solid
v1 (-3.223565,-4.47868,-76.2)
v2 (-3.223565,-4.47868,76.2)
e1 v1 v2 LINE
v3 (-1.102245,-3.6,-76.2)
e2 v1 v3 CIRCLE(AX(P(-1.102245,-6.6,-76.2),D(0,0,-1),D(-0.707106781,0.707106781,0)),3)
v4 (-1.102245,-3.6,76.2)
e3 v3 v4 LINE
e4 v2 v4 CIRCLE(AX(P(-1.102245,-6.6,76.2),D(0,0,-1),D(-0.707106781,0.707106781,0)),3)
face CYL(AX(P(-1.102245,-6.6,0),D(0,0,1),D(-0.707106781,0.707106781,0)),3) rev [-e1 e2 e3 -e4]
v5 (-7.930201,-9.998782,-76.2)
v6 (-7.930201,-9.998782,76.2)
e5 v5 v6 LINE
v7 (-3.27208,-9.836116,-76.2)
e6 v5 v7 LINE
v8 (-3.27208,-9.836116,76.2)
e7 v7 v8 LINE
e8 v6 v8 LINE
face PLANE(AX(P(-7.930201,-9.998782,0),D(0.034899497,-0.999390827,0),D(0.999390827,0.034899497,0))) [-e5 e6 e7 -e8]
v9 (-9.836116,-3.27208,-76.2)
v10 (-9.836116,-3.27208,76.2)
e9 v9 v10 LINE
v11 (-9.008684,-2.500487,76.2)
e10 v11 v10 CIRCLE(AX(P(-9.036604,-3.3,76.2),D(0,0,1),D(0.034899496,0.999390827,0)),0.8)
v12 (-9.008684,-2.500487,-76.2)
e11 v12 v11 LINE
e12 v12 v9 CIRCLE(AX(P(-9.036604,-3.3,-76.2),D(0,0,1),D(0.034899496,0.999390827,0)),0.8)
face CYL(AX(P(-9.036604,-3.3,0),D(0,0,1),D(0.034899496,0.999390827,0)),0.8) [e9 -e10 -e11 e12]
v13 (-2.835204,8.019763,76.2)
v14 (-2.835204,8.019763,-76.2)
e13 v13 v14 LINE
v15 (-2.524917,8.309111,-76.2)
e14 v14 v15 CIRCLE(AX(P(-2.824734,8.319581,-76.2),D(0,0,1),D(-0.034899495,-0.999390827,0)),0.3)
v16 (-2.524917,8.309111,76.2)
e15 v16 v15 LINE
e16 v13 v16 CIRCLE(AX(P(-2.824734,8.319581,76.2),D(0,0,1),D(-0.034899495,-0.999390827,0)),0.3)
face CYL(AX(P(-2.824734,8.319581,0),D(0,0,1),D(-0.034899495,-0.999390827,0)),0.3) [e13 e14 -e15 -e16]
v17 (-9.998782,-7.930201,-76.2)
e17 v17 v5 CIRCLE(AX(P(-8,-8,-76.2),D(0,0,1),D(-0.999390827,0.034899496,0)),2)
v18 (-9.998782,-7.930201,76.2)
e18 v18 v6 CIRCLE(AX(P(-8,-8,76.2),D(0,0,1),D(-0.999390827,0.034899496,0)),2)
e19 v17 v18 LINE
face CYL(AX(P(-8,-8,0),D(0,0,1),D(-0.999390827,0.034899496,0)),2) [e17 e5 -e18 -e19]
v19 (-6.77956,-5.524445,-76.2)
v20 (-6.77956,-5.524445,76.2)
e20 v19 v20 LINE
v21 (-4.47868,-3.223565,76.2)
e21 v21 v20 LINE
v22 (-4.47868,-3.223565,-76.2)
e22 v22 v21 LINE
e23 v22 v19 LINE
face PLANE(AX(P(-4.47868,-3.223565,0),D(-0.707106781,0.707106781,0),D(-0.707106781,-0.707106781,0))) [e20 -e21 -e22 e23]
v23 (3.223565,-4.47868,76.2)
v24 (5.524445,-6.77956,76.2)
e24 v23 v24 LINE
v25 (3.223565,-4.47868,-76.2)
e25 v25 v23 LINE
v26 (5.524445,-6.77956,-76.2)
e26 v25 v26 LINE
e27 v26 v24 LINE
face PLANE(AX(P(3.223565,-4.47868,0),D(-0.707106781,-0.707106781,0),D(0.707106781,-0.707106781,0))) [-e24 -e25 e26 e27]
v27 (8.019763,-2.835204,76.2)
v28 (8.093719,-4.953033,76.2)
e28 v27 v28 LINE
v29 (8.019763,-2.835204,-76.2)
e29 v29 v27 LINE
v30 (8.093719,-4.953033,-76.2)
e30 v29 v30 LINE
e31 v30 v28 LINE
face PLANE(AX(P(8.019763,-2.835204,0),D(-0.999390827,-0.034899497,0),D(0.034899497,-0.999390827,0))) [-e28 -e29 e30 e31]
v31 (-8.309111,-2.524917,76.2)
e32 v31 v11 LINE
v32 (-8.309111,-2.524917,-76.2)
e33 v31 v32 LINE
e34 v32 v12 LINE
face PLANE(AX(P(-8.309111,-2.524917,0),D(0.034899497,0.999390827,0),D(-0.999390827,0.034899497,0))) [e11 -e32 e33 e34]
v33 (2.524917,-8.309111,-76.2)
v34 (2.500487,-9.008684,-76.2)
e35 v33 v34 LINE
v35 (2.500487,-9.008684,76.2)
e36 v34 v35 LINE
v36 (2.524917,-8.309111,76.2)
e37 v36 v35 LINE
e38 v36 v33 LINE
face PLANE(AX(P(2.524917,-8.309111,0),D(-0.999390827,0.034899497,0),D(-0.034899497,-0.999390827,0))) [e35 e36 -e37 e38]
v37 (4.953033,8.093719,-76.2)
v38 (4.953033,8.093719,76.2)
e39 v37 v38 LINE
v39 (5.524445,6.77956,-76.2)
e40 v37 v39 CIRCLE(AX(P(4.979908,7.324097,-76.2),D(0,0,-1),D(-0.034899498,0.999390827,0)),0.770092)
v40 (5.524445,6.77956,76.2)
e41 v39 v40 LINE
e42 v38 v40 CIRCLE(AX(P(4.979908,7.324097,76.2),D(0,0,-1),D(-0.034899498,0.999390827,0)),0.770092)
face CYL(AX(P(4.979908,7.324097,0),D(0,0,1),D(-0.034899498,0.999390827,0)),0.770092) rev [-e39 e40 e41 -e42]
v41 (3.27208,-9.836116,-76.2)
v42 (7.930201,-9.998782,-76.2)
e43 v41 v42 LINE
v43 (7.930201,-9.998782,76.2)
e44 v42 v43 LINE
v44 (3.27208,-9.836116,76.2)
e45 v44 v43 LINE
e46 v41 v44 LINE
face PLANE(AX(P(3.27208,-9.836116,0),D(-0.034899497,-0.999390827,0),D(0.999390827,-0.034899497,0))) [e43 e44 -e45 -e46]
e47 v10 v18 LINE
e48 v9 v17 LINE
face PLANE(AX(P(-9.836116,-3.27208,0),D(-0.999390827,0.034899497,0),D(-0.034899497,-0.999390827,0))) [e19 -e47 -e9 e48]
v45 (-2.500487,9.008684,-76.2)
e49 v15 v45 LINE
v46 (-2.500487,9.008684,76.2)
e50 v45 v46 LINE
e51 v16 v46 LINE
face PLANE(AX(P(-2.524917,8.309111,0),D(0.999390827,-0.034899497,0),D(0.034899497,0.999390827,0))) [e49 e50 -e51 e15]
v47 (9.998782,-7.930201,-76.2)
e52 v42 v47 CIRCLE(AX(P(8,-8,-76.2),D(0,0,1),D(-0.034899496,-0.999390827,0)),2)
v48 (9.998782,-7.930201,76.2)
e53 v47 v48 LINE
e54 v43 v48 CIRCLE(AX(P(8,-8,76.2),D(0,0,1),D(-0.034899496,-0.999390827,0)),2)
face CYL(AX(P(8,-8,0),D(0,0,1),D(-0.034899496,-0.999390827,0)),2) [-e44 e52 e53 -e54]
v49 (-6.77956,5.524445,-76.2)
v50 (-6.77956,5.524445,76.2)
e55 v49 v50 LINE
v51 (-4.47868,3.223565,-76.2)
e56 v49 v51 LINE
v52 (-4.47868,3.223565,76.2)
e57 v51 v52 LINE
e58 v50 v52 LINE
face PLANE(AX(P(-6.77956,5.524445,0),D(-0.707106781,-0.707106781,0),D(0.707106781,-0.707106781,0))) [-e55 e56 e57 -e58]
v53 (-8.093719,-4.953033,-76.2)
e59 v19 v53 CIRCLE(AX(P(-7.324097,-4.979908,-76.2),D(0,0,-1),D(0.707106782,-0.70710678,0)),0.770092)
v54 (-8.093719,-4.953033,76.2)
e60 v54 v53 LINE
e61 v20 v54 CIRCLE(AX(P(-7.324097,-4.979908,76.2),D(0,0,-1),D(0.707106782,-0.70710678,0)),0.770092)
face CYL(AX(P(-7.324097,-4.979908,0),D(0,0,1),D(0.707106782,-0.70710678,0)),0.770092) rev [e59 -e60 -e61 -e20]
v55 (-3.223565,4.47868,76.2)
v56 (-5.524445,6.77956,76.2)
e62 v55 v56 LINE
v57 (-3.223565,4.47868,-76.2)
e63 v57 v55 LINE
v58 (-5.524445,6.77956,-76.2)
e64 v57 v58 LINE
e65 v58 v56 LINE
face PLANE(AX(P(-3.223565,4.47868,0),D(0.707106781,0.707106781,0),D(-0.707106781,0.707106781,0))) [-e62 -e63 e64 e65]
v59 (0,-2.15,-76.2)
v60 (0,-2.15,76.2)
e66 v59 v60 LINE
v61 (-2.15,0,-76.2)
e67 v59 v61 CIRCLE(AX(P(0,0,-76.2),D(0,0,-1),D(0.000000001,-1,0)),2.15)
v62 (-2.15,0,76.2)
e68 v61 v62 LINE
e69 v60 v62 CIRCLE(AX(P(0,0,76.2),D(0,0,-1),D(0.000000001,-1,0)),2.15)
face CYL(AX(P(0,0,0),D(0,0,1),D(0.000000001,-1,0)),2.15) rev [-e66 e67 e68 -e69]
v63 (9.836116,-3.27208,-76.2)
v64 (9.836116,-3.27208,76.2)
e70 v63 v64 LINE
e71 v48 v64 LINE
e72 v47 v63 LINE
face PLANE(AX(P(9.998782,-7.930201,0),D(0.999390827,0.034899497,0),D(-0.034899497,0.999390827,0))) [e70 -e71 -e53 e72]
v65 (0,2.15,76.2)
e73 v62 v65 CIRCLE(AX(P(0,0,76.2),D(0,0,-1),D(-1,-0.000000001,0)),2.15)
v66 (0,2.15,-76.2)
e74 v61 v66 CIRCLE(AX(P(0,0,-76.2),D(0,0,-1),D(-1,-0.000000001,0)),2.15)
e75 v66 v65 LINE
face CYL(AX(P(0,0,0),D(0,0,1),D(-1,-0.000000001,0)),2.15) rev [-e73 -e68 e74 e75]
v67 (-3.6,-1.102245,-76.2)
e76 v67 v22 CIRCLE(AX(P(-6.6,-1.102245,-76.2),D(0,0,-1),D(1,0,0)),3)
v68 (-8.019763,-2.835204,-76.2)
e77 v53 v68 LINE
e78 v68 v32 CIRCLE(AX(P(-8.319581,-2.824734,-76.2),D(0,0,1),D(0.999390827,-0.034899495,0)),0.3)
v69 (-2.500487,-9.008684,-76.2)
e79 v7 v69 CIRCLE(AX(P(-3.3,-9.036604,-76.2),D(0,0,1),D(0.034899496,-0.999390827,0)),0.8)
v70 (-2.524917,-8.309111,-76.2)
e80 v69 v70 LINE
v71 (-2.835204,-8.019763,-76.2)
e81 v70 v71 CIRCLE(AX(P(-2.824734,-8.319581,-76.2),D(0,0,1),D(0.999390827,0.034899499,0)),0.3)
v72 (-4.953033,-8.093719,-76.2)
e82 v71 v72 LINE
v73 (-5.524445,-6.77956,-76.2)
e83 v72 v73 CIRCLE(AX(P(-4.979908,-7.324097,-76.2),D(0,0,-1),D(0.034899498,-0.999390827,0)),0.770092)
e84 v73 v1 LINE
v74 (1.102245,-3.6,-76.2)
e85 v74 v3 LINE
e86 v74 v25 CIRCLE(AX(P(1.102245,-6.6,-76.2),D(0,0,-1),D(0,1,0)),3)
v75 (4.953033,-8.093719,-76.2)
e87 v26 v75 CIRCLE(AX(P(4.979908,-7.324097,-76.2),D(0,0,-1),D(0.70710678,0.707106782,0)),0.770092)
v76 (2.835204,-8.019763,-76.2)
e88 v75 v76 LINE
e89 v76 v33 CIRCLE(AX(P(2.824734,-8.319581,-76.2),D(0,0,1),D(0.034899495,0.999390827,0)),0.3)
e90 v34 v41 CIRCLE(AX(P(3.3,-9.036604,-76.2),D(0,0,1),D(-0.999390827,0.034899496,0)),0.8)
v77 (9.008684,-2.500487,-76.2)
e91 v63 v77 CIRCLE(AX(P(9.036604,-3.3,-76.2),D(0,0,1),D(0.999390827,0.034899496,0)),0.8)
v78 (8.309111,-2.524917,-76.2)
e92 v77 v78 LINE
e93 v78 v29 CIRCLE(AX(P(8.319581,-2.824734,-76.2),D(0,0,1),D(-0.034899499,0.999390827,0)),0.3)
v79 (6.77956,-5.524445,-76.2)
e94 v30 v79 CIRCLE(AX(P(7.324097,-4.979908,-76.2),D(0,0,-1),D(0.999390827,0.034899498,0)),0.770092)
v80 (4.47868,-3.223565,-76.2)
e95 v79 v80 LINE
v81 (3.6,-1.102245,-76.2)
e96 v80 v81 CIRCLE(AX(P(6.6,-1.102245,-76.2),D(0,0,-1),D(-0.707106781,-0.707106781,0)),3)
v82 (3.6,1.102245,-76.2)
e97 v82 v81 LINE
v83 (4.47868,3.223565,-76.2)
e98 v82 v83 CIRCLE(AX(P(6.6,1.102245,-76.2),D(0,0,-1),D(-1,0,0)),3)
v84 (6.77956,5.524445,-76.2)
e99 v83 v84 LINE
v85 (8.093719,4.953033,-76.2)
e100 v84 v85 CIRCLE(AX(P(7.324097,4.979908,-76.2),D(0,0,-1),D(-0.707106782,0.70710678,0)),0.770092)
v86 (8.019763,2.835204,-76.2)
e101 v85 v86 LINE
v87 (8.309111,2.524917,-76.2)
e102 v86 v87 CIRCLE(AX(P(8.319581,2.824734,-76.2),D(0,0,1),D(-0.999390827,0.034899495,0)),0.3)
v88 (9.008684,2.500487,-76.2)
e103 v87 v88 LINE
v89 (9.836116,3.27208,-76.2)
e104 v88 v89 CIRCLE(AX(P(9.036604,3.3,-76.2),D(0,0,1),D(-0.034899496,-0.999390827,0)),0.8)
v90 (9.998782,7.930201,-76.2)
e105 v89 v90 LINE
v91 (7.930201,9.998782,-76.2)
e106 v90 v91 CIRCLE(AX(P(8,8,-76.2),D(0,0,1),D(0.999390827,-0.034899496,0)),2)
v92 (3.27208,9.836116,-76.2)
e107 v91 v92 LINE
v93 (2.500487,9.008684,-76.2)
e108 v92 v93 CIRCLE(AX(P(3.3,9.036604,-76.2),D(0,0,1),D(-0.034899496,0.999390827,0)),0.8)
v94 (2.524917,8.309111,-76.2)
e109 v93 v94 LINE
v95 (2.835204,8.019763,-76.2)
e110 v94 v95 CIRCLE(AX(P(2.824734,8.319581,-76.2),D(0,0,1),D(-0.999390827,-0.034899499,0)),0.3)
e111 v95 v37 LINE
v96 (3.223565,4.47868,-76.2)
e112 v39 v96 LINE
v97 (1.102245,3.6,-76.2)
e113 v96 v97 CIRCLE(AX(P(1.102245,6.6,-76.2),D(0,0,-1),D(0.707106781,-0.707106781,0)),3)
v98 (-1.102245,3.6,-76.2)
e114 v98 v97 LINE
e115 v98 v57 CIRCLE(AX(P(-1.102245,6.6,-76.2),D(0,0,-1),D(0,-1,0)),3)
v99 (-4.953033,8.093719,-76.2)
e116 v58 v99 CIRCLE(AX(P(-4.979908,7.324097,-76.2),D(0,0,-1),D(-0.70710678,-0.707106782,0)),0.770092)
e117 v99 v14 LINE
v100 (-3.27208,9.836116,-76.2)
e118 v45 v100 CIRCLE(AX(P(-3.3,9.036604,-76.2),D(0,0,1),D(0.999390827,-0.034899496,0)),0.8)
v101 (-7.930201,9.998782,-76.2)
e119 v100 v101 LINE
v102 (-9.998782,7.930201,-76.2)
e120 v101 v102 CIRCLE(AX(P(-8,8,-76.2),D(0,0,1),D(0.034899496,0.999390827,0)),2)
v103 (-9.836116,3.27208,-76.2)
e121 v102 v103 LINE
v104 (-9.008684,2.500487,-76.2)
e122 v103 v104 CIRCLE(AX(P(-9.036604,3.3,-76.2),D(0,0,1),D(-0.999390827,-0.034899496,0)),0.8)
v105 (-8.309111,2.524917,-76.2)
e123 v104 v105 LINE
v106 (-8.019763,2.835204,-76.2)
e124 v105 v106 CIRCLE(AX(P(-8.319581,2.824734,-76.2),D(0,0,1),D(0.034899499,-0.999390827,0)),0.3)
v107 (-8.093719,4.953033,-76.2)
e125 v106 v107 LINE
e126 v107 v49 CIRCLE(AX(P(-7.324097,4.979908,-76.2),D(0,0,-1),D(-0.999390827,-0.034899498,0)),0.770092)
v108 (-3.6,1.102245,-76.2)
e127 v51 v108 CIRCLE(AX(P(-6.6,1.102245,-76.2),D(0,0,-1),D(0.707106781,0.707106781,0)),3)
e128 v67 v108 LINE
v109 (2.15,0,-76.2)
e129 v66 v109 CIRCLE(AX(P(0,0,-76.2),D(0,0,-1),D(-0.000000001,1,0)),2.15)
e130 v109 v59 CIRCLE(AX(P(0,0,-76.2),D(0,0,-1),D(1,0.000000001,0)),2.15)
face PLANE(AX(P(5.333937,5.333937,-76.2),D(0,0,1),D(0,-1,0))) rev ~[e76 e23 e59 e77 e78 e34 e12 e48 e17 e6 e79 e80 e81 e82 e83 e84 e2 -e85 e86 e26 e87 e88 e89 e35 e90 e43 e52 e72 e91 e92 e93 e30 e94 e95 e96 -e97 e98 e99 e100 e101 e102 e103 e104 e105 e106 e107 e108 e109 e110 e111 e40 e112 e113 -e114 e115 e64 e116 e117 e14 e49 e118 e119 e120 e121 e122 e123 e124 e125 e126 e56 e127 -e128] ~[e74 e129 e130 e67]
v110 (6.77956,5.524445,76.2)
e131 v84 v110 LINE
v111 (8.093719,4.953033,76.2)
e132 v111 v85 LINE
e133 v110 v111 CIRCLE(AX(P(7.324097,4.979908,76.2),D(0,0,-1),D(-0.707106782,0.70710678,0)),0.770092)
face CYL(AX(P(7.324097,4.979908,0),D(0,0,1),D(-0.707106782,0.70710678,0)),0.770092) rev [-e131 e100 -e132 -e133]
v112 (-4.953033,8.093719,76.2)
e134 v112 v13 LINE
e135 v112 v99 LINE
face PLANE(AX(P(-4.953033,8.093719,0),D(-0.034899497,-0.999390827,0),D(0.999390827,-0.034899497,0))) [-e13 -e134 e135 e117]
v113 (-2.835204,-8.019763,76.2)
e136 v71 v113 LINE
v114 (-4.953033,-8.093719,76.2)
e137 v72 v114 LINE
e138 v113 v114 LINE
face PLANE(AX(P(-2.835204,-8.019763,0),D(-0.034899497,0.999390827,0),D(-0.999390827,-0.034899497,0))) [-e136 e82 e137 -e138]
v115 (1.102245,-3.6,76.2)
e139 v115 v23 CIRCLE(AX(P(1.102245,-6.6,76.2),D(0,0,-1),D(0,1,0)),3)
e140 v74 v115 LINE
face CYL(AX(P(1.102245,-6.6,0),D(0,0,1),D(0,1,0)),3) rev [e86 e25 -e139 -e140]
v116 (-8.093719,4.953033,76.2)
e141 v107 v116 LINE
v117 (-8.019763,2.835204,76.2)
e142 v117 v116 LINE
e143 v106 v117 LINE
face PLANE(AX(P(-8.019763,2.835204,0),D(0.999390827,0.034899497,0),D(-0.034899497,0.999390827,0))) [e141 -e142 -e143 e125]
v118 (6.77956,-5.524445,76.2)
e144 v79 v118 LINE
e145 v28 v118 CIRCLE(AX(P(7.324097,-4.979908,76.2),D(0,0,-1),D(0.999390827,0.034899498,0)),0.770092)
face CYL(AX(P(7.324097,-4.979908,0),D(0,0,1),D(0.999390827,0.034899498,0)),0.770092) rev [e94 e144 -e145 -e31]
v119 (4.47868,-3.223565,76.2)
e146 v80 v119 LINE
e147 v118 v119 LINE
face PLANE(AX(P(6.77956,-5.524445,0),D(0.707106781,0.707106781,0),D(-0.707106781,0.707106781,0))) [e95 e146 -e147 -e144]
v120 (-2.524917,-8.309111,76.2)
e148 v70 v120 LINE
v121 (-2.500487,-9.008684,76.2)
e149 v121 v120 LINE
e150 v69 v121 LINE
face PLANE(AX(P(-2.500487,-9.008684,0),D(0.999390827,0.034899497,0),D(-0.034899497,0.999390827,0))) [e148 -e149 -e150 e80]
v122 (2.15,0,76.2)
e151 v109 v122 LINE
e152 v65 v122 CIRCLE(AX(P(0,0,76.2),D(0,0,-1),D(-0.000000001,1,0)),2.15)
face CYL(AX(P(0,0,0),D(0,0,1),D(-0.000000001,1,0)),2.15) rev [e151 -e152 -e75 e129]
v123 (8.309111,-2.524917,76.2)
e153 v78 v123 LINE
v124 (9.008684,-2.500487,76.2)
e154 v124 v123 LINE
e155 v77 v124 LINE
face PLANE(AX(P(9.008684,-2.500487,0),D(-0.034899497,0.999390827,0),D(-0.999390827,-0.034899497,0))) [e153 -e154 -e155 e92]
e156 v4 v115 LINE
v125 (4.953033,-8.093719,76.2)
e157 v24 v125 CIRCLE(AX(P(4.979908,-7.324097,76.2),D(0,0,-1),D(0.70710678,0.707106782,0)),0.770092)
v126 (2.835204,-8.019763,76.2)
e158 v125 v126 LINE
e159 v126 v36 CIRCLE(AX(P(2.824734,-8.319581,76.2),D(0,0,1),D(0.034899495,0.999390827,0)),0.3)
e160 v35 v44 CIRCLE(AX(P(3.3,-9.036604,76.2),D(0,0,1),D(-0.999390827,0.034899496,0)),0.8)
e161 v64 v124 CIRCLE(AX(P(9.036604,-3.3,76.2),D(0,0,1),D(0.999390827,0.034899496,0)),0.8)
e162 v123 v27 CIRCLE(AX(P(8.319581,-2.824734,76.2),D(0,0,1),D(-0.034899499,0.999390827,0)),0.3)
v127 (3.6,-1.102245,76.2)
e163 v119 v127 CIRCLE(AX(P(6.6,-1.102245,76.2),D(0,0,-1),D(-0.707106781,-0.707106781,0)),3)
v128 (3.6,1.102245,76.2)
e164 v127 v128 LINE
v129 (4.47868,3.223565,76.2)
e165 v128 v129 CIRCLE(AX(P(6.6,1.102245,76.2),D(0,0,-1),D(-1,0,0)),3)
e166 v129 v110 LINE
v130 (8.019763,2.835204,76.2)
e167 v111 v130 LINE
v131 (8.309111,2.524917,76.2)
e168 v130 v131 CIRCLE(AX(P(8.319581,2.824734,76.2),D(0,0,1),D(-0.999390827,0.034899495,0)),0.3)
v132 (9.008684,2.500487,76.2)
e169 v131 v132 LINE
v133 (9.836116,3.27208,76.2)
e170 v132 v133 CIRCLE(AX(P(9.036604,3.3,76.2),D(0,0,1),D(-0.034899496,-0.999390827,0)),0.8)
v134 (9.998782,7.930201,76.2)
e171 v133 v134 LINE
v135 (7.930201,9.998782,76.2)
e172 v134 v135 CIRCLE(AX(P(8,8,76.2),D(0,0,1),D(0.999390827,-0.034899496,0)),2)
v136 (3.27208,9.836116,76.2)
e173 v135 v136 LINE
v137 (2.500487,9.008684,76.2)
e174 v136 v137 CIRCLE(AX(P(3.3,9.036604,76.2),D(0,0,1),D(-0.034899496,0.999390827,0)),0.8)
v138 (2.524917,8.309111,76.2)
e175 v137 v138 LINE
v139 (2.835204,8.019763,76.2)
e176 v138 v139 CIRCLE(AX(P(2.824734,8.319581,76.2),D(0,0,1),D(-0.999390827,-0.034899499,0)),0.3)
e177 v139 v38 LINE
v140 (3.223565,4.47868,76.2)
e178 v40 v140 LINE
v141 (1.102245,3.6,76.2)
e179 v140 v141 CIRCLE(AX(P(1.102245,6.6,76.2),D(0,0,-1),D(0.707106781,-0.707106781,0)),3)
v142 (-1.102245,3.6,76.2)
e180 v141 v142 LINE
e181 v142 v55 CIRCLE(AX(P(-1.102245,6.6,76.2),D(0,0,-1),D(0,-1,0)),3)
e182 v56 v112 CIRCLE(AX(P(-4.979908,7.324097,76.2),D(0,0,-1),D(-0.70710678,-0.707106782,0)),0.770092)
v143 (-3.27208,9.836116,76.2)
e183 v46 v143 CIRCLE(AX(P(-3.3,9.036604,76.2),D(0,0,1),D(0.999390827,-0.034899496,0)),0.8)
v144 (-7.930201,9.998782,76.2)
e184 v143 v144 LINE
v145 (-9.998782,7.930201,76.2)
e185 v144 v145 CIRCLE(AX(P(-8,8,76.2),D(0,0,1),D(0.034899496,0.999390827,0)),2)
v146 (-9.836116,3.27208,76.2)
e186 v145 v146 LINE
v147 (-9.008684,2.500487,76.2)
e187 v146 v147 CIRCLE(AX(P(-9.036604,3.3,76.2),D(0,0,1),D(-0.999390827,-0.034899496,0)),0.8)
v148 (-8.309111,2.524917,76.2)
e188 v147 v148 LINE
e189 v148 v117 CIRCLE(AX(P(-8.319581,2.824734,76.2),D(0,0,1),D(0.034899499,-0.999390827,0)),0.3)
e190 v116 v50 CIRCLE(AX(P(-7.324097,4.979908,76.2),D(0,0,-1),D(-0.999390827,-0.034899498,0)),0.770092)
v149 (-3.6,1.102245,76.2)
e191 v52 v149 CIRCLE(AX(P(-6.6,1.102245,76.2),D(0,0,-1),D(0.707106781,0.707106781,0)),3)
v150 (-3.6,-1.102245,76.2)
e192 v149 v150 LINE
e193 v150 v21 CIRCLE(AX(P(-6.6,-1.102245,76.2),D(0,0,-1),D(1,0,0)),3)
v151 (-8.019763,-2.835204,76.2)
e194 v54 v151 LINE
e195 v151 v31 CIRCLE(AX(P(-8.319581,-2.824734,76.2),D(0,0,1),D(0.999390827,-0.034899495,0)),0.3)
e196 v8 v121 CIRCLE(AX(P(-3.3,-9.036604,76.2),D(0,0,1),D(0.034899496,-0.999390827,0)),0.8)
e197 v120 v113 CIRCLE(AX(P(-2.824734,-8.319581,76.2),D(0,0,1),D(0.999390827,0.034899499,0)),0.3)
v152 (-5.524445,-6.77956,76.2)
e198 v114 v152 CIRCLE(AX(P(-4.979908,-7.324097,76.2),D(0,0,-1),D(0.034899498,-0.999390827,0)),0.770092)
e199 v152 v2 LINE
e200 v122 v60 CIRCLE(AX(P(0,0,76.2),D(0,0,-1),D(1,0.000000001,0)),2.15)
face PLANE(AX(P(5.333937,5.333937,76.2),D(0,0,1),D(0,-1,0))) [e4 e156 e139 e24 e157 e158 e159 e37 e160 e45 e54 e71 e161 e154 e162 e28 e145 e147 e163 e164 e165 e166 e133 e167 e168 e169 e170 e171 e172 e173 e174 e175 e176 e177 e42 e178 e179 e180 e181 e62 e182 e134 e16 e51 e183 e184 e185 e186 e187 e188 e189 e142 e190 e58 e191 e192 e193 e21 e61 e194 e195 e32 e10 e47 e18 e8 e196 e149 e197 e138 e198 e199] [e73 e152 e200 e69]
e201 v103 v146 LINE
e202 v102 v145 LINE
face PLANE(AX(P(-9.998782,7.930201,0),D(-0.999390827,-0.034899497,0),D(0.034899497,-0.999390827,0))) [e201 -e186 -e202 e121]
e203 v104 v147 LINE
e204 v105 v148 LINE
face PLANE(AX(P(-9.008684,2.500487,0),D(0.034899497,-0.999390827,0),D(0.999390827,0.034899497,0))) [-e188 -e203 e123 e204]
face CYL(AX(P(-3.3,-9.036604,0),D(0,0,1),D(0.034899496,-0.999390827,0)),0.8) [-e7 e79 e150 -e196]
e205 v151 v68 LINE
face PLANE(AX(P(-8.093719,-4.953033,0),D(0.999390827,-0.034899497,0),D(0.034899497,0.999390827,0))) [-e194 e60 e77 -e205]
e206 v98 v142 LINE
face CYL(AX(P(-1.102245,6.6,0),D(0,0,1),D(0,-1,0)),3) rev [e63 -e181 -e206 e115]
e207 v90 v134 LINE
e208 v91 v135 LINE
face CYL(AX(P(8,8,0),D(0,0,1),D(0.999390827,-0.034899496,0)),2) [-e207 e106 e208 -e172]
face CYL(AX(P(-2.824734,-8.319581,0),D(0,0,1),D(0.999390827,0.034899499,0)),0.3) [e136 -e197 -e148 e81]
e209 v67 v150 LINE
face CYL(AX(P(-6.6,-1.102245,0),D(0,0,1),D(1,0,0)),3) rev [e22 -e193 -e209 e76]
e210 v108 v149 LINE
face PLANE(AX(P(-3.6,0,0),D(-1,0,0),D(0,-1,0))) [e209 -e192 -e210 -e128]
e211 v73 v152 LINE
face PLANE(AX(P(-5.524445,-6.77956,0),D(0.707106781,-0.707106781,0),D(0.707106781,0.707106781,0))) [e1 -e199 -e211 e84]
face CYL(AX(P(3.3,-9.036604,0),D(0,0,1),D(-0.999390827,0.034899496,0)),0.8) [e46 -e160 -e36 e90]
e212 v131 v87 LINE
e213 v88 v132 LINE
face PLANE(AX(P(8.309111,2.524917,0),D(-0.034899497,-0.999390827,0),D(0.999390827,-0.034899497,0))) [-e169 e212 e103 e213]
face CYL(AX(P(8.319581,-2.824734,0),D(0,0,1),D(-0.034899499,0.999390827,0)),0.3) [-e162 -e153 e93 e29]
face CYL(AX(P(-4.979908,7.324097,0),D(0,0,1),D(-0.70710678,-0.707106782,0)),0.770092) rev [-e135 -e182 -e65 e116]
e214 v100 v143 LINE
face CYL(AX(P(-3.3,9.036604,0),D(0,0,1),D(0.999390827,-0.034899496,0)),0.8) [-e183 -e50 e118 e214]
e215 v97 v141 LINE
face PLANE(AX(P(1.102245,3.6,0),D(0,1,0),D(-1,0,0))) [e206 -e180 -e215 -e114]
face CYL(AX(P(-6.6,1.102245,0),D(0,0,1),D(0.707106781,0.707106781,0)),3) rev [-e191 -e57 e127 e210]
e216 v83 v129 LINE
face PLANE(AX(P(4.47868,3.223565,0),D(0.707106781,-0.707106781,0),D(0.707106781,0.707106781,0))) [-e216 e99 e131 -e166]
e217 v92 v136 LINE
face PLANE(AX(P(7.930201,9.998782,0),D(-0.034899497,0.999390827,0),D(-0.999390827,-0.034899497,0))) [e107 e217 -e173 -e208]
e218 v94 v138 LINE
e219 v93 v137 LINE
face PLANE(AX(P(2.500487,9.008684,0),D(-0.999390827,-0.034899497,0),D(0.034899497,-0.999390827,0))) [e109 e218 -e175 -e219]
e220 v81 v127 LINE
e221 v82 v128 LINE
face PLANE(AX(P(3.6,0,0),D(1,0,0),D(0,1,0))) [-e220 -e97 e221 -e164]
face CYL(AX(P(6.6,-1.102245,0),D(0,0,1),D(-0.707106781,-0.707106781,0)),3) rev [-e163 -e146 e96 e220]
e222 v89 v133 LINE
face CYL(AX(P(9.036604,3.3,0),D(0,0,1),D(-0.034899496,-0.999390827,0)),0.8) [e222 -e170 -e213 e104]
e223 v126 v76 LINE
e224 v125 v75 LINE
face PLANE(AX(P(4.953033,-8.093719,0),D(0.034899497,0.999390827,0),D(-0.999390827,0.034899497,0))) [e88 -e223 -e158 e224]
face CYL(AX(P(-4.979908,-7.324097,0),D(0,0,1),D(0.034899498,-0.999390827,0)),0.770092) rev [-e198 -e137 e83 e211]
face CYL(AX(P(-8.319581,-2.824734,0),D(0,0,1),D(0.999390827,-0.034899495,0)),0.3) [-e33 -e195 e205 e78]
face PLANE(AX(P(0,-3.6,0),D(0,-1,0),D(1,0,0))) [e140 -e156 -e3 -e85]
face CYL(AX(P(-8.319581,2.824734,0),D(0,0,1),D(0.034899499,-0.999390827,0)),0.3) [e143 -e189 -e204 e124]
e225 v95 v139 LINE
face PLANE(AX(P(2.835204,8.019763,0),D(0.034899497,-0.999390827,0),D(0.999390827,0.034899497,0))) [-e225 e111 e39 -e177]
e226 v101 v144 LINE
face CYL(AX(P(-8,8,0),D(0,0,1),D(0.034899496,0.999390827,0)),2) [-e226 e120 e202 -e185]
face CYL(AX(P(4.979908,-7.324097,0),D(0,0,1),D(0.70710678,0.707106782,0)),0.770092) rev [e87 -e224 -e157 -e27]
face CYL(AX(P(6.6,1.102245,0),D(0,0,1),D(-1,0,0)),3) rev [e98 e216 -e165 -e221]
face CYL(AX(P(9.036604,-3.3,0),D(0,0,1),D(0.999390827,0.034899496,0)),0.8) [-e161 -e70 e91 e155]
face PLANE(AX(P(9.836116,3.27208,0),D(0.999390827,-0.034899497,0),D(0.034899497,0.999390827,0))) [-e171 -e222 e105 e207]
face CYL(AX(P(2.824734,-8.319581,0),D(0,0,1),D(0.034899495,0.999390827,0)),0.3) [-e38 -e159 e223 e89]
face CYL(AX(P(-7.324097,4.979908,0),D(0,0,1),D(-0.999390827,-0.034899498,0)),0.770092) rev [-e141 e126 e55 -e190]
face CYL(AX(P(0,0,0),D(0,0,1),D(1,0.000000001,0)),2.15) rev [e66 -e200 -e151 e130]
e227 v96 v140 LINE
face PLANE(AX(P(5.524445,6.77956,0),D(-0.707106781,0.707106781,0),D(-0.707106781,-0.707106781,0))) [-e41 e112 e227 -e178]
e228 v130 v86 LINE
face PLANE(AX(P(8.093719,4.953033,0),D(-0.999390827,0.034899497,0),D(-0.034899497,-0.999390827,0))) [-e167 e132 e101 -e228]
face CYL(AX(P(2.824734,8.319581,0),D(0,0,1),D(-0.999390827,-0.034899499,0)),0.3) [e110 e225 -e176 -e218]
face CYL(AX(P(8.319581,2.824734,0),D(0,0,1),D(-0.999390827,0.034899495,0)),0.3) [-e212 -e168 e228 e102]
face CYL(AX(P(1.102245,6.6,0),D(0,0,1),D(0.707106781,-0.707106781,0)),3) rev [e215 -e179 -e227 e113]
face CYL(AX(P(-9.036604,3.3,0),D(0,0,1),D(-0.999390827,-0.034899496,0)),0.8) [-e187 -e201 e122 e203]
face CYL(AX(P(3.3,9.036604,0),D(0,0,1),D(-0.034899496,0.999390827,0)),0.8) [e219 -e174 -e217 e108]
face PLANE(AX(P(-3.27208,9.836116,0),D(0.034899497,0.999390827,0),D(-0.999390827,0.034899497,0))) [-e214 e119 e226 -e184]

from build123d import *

# Parameters (mm, degrees)
BOSS_EXTRUDE1_DEPTH = 76.2
CIRPATTERN1_COUNT   = 4


with BuildPart() as part:
    # Sketch3 → Boss-Extrude1 (new, symmetric)
    with BuildSketch(Plane.XY):
        with BuildLine():
            Line((-2.524916986, 8.30911066), (-2.500487338, 9.008684239))
            ThreePointArc((-2.500487338, 9.008684239), (-2.714917039, 9.582202525), (-3.272080403, 9.836116498))
            Line((-3.272080403, 9.836116498), (-7.930201007, 9.998781654))
            ThreePointArc((-7.930201007, 9.998781654), (-9.414213562, 9.414213562), (-9.998781654, 7.930201007))
            Line((-9.998781654, 7.930201007), (-9.836116498, 3.272080403))
            ThreePointArc((-9.836116498, 3.272080403), (-9.582202525, 2.714917039), (-9.008684239, 2.500487338))
            Line((-9.008684239, 2.500487338), (-8.30911066, 2.524916986))
            ThreePointArc((-8.30911066, 2.524916986), (-8.100174399, 2.620134726), (-8.019763261, 2.835204083))
            Line((-8.019763261, 2.835204083), (-8.093719461, 4.953032548))
            ThreePointArc((-8.093719461, 4.953032548), (-7.631170264, 5.686128657), (-6.779559917, 5.52444538))
            Line((-6.779559917, 5.52444538), (-4.478679656, 3.22356512))
            ThreePointArc((-4.478679656, 3.22356512), (-3.828361402, 2.250295073), (-3.6, 1.102244776))
            Line((-3.6, 1.102244776), (-3.6, 0))
            Line((-3.6, 0), (-2.15, 0))
            ThreePointArc((-2.15, 0), (-1.52027958, 1.52027958), (0, 2.15))
            Line((0, 2.15), (0, 3.6))
            Line((0, 3.6), (-1.102244776, 3.6))
            ThreePointArc((-1.102244776, 3.6), (-2.250295073, 3.828361402), (-3.22356512, 4.478679656))
            Line((-3.22356512, 4.478679656), (-5.52444538, 6.779559917))
            ThreePointArc((-5.52444538, 6.779559917), (-5.686128657, 7.631170264), (-4.953032548, 8.093719461))
            Line((-4.953032548, 8.093719461), (-2.835204083, 8.019763261))
            ThreePointArc((-2.835204083, 8.019763261), (-2.620134726, 8.100174399), (-2.524916986, 8.30911066))
        make_face()
    boss_extrude1 = extrude(amount=BOSS_EXTRUDE1_DEPTH, both=True)

    # CirPattern1: Boss-Extrude1 ×4 about axis
    cirpattern1_axis = Axis((0, 0, 0), (0, 0, 1))
    for i in range(1, CIRPATTERN1_COUNT):
        add(boss_extrude1.rotate(cirpattern1_axis, i * 360 / CIRPATTERN1_COUNT))


solid = part.part
